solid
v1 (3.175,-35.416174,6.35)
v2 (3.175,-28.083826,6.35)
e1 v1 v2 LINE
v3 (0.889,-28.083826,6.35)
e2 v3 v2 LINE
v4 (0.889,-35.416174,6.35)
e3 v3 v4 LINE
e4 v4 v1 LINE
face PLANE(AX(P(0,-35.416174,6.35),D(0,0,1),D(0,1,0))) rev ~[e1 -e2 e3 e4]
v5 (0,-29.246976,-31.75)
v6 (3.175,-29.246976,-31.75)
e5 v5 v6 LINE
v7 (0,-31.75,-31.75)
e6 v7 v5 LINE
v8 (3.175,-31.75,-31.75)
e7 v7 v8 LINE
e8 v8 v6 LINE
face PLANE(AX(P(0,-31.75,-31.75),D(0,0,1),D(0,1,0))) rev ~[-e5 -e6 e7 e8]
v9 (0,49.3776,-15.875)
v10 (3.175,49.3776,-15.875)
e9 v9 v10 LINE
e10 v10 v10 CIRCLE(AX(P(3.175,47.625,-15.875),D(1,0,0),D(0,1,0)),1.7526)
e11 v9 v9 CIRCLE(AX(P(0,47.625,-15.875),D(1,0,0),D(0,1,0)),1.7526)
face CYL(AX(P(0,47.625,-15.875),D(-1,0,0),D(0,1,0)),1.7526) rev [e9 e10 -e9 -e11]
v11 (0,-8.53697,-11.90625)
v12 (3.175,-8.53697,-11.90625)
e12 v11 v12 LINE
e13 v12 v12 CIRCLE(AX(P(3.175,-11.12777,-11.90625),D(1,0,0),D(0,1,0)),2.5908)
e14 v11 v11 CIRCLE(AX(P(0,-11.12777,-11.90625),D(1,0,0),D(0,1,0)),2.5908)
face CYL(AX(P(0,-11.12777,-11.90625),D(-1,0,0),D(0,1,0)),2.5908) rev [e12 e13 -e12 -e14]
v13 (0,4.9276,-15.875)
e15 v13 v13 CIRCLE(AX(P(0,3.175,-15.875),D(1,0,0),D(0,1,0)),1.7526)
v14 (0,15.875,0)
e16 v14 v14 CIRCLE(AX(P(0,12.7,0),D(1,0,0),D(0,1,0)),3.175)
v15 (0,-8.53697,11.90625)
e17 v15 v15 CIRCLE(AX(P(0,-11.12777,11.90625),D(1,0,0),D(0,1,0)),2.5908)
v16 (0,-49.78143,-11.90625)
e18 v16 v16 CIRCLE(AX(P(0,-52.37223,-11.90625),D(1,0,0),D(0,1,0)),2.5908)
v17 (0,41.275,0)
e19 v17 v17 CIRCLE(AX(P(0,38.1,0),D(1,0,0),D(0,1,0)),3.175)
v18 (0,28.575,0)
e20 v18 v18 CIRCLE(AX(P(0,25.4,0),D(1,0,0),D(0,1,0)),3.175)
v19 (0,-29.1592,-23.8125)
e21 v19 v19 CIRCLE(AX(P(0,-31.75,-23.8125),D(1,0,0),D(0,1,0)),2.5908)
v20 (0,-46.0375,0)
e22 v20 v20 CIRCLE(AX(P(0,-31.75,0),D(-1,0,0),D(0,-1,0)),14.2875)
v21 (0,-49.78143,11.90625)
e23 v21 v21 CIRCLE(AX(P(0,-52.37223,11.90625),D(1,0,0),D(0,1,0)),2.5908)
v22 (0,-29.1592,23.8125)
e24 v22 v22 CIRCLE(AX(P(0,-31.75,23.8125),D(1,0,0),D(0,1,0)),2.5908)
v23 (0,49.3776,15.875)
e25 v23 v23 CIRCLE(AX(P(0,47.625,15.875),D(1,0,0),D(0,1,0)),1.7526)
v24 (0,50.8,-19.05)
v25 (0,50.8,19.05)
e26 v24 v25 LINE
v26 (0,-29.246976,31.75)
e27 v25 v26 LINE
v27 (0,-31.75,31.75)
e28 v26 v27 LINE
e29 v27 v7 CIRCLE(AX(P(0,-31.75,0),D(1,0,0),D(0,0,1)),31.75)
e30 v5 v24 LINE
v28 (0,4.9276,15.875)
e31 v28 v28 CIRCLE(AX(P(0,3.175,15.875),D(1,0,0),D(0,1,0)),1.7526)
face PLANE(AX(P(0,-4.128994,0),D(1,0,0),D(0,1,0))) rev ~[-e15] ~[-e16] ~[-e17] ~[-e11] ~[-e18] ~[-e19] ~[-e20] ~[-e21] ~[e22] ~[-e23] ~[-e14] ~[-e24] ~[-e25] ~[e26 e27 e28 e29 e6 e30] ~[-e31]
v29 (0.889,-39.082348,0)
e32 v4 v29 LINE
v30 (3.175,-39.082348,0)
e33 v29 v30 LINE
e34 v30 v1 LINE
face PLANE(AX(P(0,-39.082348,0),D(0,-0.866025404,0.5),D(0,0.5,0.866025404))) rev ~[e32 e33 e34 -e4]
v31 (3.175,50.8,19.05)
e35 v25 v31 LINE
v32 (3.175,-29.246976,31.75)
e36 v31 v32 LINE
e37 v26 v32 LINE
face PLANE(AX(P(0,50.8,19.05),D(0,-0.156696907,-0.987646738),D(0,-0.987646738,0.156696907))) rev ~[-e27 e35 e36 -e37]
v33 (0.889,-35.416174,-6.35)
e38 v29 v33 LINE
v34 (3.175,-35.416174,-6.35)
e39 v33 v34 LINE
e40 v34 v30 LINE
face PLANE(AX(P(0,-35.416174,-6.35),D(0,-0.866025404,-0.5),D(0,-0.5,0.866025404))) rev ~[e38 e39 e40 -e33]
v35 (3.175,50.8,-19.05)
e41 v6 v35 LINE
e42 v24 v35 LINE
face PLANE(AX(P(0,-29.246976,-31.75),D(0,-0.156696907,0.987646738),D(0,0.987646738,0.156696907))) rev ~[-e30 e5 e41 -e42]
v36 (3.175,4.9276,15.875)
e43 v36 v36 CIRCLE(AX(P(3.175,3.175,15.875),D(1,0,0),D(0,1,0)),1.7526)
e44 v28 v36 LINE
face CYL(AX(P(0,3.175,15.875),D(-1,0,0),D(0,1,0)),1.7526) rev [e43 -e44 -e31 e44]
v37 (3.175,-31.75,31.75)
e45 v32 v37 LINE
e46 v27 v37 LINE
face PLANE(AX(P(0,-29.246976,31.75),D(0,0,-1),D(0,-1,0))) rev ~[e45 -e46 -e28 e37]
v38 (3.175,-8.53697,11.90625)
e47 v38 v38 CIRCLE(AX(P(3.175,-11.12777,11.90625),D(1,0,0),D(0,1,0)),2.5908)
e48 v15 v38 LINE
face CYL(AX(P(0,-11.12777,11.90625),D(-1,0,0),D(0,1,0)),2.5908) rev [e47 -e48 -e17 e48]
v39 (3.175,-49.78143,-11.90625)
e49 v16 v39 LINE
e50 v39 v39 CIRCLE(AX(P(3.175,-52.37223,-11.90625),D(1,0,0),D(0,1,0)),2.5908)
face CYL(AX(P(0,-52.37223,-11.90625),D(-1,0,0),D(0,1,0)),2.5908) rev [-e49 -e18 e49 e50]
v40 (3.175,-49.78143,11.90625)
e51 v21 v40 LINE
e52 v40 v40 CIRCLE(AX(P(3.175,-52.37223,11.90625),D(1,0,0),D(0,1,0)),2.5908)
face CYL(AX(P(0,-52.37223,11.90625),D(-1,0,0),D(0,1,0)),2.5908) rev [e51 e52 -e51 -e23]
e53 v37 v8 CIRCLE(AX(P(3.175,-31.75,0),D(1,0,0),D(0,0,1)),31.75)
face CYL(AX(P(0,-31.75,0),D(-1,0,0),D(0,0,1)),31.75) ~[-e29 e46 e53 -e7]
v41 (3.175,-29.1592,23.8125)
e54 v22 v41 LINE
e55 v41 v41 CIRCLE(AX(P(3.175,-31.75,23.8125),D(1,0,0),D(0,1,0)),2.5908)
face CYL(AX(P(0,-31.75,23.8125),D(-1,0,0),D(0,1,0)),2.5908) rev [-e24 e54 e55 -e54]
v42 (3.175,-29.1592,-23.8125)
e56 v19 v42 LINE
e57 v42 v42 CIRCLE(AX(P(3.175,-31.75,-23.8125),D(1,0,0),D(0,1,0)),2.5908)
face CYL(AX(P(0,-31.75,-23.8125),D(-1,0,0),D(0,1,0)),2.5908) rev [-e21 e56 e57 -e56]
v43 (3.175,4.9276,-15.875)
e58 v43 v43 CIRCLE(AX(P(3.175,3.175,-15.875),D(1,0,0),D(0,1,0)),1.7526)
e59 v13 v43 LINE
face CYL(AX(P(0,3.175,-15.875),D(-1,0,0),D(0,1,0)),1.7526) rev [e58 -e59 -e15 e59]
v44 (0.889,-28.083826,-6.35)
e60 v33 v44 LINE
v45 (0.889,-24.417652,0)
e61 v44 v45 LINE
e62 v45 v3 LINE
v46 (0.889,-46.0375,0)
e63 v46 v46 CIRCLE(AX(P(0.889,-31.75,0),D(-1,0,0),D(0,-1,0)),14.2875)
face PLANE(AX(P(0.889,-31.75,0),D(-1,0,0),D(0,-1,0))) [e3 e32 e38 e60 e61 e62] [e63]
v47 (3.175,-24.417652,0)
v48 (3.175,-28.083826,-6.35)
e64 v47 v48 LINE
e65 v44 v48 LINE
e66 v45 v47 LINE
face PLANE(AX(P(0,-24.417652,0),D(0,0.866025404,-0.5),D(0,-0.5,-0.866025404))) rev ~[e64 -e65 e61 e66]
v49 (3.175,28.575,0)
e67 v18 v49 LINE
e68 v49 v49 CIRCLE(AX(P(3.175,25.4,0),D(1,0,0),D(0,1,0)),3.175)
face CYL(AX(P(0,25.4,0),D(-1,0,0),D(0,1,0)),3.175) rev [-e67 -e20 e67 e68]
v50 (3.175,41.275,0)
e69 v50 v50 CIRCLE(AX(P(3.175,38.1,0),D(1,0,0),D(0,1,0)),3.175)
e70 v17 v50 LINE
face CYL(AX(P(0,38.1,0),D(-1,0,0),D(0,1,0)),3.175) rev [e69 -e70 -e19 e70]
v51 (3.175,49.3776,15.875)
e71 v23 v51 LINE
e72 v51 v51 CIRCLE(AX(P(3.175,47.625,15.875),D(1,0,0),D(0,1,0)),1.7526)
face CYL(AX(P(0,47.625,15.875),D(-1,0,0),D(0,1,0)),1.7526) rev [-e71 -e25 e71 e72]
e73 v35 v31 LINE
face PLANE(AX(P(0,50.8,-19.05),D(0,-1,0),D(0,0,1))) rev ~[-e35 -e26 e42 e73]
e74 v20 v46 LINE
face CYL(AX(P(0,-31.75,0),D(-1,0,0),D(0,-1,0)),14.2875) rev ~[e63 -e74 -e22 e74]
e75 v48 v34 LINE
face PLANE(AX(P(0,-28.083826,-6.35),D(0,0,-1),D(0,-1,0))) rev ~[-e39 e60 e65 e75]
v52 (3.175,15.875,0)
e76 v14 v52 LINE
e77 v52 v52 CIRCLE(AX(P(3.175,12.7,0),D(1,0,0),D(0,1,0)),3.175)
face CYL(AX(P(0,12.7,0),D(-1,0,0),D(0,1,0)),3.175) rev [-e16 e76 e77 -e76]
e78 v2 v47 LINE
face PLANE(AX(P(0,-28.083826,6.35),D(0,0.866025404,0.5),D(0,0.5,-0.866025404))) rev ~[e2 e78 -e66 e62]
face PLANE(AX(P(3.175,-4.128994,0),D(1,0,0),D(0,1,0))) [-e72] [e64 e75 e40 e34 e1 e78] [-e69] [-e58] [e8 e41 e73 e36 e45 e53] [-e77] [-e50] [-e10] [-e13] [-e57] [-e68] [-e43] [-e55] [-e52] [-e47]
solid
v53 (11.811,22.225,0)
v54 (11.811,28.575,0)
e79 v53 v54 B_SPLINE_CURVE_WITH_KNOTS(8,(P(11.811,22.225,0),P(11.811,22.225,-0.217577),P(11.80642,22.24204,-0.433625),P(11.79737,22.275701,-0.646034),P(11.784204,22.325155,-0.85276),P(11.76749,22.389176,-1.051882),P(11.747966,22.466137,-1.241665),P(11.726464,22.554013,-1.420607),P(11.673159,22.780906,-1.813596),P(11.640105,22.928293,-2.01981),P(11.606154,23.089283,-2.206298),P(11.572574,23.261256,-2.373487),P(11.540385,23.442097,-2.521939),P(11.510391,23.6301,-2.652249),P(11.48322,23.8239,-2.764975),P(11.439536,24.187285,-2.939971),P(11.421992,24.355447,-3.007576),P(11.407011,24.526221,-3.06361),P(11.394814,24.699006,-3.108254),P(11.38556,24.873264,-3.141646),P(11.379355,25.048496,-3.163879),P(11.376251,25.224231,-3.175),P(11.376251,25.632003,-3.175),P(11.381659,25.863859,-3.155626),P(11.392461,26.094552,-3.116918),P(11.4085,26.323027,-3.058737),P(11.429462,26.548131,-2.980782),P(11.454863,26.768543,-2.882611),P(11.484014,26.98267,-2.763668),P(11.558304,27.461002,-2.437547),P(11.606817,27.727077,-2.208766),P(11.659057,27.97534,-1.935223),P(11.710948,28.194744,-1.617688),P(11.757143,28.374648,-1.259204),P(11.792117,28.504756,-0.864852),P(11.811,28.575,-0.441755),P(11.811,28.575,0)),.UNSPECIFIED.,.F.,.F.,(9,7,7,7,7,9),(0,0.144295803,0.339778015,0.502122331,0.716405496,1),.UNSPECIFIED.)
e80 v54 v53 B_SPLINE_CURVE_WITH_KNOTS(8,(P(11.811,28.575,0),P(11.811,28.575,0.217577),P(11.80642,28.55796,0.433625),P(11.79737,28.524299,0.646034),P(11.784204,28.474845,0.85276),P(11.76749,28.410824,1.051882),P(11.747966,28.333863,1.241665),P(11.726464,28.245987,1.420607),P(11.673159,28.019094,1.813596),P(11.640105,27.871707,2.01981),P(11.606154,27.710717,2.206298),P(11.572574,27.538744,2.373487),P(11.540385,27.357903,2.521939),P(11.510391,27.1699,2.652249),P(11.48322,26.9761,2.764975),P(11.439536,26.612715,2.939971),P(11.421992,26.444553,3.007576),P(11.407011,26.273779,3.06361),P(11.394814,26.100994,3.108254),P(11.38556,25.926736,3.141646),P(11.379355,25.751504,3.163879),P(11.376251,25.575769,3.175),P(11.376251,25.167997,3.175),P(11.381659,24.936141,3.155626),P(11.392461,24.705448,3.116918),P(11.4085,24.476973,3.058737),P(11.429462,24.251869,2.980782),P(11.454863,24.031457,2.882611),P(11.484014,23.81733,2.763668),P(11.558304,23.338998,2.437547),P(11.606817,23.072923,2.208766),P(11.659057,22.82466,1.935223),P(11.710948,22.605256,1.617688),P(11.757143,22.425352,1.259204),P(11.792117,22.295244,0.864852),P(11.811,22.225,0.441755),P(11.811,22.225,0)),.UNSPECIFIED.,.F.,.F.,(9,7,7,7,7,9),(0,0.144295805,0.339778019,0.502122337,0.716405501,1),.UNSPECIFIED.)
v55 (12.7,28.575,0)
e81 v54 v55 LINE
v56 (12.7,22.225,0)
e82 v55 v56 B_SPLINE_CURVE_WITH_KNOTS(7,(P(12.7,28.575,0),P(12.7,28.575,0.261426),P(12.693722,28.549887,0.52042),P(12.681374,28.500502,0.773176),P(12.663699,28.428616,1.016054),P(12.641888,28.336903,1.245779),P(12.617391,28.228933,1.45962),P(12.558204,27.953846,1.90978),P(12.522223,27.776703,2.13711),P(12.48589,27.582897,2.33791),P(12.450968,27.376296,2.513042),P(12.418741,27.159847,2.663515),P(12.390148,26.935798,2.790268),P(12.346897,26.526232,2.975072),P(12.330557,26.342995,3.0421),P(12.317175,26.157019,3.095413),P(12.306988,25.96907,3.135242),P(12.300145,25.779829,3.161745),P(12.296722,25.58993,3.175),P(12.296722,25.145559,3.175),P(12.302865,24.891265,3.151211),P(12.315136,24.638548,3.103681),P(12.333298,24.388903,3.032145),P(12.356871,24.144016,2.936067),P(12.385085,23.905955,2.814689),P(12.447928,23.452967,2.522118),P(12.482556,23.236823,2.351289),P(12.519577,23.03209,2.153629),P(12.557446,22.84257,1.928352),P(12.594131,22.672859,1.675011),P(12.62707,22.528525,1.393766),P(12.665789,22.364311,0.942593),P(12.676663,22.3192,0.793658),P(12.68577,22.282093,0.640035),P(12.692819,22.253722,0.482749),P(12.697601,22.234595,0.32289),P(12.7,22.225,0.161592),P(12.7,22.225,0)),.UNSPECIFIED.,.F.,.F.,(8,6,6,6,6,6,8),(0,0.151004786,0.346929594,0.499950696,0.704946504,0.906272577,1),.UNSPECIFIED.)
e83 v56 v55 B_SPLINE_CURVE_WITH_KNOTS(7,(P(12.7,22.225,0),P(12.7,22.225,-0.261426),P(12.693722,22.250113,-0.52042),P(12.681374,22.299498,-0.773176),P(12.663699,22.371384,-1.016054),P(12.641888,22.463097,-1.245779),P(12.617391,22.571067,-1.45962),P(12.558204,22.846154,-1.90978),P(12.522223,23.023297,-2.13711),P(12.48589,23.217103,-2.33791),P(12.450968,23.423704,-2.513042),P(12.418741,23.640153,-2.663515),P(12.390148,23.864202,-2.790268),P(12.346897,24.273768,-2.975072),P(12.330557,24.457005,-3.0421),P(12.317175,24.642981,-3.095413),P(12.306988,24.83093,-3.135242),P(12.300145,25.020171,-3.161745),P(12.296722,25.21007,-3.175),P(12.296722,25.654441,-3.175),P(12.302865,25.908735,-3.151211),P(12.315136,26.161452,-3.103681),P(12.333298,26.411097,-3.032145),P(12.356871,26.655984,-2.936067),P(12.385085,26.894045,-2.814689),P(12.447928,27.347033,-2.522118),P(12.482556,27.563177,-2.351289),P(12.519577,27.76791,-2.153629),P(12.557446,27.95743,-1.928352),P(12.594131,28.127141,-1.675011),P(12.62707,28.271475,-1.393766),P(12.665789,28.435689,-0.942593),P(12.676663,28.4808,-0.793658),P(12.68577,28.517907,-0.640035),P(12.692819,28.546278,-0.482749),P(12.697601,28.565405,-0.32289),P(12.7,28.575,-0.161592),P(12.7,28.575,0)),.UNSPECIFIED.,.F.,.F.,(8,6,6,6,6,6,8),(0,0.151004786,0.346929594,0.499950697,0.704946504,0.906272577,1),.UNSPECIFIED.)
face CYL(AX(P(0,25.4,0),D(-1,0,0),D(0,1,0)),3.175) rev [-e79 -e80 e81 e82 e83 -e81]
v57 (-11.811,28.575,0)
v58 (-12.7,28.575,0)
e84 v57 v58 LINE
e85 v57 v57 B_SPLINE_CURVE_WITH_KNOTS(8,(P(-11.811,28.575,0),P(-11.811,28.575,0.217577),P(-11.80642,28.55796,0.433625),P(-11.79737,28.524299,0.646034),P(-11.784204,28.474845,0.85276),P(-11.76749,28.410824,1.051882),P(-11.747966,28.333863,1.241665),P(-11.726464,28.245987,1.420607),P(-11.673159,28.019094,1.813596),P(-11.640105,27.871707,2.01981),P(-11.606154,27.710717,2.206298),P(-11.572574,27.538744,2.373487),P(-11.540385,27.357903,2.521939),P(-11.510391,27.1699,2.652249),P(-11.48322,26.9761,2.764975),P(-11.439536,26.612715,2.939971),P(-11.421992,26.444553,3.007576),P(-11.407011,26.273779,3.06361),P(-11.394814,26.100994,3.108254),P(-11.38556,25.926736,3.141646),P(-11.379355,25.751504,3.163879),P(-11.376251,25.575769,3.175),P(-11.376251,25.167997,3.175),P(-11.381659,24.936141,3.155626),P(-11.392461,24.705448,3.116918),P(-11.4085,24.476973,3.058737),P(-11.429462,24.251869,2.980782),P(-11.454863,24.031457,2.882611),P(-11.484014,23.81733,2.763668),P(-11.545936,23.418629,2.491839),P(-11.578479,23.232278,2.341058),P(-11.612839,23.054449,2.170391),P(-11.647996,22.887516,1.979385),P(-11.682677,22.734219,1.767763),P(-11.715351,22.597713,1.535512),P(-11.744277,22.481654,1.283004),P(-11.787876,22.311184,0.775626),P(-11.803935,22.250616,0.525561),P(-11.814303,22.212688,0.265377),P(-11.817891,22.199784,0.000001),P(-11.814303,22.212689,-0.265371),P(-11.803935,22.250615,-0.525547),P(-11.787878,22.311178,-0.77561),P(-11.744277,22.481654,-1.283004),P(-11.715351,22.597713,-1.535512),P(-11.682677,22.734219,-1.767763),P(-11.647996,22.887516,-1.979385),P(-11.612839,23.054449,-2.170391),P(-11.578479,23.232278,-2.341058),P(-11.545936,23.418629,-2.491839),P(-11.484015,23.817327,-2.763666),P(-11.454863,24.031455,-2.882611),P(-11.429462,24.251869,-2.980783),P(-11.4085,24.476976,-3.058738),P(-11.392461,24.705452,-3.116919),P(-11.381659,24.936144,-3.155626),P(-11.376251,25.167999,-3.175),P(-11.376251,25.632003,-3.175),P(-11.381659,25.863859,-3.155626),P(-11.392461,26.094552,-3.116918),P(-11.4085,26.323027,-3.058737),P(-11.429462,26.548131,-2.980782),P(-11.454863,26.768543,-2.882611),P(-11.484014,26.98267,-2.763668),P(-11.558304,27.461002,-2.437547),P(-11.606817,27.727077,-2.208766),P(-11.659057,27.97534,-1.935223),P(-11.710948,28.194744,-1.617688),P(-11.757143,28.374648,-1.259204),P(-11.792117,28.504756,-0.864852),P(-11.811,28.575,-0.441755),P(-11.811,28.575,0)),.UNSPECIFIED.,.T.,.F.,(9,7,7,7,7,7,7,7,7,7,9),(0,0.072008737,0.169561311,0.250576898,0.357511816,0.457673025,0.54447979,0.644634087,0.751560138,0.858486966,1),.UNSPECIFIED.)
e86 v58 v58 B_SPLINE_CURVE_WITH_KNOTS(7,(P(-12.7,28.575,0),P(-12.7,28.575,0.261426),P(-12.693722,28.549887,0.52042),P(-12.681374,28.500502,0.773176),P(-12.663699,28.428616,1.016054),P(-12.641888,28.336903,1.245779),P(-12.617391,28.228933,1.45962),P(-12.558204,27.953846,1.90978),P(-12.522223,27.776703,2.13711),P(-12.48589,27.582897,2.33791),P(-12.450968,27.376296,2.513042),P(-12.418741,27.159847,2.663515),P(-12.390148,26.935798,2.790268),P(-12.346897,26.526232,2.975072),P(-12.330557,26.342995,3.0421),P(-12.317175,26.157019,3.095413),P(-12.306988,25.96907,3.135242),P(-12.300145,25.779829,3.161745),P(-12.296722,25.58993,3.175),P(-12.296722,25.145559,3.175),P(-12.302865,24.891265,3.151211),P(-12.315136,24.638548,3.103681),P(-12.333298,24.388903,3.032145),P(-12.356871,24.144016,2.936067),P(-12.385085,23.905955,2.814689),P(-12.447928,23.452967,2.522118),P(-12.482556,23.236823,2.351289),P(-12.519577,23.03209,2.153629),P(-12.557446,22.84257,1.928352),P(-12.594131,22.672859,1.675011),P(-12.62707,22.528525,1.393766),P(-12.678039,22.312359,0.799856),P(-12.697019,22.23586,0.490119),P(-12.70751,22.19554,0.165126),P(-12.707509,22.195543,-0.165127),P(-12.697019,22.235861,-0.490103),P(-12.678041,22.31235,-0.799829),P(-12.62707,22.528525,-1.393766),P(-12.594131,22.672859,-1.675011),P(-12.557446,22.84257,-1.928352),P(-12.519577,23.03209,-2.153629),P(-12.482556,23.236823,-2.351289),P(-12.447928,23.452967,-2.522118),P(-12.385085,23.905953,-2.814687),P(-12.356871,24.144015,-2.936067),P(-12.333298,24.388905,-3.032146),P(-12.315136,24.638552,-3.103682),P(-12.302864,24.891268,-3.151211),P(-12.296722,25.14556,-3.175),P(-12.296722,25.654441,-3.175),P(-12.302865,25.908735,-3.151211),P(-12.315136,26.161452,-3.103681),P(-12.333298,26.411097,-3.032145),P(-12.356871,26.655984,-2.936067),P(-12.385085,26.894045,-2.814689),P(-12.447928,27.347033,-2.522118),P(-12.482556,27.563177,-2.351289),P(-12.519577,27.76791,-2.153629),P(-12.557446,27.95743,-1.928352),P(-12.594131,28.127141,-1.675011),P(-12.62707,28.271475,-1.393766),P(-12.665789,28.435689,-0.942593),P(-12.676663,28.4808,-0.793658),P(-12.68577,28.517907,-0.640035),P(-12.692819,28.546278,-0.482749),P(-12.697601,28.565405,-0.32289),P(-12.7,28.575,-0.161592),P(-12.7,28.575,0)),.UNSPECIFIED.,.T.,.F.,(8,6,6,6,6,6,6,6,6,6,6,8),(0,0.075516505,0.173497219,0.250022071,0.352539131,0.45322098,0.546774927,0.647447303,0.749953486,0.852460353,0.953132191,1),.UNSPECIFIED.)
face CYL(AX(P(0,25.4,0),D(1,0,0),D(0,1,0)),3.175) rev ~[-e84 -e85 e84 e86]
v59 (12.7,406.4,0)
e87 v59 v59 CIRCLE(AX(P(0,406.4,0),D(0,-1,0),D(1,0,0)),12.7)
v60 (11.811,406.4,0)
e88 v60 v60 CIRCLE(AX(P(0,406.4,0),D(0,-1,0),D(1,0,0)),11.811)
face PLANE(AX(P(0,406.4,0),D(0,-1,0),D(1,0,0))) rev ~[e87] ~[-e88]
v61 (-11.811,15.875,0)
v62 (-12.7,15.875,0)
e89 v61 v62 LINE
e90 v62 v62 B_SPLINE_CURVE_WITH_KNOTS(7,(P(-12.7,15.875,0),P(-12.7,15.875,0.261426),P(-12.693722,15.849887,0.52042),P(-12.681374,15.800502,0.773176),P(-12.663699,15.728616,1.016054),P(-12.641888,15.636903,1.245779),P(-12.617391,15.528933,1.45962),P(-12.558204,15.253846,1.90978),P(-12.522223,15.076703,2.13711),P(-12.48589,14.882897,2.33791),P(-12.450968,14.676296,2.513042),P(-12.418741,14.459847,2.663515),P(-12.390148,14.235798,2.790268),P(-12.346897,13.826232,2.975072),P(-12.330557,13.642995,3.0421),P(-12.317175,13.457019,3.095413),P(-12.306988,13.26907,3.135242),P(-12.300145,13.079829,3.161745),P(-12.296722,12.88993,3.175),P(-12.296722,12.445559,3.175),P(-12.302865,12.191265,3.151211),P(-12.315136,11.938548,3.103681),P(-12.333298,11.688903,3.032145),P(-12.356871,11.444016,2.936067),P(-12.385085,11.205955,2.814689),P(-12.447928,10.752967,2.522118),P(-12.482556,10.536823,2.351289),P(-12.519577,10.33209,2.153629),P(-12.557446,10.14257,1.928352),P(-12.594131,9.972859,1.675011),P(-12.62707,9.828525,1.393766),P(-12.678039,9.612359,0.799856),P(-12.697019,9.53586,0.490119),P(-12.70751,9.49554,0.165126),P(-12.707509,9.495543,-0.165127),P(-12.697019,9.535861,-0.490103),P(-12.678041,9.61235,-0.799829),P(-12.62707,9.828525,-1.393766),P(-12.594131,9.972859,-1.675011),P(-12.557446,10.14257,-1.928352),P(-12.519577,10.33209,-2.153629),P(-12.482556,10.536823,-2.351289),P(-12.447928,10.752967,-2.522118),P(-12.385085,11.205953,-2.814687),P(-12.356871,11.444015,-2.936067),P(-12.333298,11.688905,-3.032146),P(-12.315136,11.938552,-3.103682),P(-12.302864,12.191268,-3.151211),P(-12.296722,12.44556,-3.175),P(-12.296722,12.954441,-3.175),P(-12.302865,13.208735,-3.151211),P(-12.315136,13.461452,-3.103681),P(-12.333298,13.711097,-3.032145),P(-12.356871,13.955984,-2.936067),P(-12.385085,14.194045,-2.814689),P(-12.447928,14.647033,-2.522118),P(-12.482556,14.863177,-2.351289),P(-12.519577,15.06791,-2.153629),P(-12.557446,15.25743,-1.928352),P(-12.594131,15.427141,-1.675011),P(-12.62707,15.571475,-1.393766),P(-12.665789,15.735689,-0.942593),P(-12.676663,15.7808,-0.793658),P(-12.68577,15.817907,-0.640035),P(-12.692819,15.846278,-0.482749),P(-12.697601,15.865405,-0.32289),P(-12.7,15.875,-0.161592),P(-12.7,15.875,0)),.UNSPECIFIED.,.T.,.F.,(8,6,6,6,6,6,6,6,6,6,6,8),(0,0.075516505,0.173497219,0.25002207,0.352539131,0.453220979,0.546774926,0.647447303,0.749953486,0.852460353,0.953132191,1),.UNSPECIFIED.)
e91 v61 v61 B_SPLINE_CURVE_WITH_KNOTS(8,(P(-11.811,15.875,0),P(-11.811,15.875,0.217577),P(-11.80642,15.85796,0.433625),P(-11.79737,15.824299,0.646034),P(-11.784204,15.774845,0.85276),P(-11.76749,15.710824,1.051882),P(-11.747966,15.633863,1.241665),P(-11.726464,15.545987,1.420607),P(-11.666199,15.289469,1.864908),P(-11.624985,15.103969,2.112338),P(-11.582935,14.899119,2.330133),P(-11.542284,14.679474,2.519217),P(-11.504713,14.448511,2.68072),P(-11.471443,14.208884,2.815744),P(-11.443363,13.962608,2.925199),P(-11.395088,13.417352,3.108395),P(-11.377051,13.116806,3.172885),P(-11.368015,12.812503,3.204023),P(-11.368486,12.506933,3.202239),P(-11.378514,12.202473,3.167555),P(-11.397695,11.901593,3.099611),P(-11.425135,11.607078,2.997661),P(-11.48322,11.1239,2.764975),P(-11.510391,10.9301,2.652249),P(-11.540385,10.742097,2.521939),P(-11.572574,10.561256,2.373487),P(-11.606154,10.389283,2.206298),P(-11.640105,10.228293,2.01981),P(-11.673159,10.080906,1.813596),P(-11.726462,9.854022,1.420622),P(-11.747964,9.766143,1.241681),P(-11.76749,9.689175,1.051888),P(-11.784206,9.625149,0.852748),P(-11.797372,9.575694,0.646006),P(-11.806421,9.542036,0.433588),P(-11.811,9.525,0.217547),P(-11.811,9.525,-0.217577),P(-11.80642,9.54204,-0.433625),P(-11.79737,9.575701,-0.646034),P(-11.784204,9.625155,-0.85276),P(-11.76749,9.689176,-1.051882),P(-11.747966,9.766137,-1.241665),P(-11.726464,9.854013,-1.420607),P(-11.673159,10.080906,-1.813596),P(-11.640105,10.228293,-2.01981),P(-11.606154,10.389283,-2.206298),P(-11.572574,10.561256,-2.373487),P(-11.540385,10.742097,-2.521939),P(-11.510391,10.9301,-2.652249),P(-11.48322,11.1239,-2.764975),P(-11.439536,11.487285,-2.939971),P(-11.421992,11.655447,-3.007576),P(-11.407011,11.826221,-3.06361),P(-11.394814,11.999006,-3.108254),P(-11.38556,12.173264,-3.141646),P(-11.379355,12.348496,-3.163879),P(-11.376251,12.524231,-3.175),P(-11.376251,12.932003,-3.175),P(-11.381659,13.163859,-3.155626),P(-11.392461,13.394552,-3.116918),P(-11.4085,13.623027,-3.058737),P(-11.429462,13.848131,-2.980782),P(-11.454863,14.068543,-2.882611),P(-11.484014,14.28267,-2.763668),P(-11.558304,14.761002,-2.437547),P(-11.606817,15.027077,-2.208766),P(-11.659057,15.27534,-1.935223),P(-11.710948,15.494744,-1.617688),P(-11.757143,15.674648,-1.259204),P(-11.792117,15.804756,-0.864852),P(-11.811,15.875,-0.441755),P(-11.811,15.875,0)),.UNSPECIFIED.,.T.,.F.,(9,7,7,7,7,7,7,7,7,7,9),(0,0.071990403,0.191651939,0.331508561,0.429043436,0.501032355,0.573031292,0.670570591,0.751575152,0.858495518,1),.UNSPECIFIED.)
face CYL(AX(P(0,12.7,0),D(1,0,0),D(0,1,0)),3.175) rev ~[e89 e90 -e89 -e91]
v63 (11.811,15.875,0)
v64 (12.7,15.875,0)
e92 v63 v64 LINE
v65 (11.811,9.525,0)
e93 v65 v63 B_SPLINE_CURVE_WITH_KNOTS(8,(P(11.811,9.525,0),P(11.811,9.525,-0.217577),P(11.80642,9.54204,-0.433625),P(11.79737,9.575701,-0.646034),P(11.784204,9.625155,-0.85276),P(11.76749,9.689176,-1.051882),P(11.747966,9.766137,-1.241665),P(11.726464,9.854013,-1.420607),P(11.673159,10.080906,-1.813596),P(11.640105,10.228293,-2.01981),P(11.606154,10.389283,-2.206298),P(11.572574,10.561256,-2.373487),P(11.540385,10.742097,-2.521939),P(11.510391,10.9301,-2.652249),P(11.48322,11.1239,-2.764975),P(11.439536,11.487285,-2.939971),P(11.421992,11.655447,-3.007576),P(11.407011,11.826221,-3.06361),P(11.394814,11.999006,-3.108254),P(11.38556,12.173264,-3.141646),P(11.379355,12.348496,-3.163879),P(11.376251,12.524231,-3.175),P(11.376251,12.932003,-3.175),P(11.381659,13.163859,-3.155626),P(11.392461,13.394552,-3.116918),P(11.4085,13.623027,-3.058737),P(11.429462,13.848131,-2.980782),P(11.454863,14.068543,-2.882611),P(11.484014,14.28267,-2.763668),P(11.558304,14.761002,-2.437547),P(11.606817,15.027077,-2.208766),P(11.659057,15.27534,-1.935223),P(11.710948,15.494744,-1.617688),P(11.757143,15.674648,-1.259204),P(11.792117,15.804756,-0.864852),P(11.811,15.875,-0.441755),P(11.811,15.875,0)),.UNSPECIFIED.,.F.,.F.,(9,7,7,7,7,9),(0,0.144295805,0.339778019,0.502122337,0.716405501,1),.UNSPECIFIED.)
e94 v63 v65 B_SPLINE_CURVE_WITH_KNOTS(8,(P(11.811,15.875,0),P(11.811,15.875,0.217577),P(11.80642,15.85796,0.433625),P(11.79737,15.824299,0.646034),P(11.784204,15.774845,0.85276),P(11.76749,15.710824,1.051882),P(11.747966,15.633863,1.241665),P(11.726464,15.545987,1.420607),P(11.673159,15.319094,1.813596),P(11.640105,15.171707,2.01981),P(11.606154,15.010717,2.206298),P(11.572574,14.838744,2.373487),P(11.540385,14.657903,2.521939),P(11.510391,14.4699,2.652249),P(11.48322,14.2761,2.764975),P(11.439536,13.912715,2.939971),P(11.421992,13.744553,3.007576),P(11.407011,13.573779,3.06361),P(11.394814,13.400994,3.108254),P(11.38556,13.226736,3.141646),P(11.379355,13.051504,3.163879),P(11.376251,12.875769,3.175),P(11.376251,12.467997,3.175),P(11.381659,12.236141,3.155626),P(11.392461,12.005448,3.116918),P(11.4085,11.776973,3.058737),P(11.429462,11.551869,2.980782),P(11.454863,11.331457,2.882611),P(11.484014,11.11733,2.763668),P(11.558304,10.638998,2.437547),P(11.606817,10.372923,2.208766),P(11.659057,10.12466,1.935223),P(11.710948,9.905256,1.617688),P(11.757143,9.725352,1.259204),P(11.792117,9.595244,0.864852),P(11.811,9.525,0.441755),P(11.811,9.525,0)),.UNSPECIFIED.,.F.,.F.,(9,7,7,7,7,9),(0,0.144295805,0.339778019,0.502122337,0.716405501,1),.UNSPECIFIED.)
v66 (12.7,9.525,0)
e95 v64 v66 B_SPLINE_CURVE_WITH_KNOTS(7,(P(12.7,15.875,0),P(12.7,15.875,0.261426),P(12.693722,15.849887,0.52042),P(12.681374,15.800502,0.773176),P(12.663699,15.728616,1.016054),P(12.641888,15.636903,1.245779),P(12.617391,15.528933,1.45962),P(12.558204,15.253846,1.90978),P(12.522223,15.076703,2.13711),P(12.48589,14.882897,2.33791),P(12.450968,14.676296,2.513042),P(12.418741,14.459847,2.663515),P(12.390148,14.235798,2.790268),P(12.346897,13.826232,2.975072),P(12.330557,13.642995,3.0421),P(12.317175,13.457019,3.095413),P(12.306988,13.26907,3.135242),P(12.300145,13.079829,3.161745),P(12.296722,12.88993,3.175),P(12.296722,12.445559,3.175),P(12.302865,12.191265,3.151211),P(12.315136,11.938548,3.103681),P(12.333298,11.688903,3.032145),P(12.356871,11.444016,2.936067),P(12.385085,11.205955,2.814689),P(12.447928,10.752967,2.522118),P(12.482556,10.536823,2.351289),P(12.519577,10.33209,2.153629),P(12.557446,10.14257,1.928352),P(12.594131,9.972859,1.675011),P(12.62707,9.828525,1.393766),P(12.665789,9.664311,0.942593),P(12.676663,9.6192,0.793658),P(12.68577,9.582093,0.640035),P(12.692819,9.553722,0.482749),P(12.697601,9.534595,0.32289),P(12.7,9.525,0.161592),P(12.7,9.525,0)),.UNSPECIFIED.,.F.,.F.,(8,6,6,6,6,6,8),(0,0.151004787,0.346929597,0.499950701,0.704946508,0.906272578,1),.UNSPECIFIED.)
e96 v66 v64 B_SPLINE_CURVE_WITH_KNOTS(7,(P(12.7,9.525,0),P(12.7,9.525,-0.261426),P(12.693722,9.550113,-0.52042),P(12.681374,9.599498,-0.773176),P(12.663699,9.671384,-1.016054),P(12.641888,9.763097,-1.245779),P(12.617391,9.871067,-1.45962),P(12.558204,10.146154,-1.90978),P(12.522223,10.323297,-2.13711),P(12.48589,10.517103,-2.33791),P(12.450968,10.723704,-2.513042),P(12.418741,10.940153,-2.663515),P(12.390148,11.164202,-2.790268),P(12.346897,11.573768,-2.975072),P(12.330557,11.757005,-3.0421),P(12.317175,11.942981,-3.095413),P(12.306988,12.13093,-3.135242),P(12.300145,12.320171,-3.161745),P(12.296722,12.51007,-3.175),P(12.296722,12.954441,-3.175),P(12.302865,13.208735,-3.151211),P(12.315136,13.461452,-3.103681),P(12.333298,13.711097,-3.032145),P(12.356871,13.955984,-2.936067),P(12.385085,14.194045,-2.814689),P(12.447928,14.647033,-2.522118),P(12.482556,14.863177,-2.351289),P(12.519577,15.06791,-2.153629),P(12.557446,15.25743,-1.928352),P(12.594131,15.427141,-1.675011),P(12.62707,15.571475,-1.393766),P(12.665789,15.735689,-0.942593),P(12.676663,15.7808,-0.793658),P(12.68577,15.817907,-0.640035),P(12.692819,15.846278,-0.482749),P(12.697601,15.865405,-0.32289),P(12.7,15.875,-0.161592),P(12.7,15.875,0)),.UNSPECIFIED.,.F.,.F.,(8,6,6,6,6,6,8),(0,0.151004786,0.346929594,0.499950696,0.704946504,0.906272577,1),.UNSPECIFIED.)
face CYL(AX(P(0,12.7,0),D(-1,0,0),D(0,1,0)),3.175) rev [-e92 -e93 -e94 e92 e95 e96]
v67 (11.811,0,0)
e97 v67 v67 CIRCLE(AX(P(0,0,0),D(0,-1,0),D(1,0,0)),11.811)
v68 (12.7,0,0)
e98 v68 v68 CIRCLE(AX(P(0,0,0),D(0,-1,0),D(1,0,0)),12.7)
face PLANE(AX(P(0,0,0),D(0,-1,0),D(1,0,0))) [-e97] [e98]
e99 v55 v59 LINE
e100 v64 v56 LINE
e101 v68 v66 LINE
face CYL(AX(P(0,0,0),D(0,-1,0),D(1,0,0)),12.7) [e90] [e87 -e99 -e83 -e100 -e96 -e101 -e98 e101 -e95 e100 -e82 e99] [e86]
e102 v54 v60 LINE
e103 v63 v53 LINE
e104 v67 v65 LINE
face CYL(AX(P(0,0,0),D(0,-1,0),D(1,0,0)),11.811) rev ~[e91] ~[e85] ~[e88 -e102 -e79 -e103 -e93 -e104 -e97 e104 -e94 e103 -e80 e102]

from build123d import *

# Parameters (mm, degrees)
F0_R          = 12.7
F0_R_2        = 11.811
F1_DEPTH      = 406.4
F2_R          = 3.175
F3_DEPTH      = 12.701
F3_DEPTH_BACK = 25.4
F4_R          = 2.5908
F4_R_2        = 1.7526
F4_R_3        = 3.175
F5_DEPTH      = 3.175
F6_R          = 14.2875
F7_DEPTH      = 0.889


with BuildPart() as f1:
    # F0 (on Front) → F1 (new body)
    with BuildSketch(Plane.XZ):
        Circle(F0_R)
        Circle(F0_R_2, mode=Mode.SUBTRACT)
    extrude(amount=-F1_DEPTH)

    # F2 (on Right) → F3 (cut, two sides)
    with BuildSketch(Plane.YZ) as f3_sk:
        with Locations((12.7, 0)):
            Circle(F2_R)
        with Locations((25.4, 0)):
            Circle(F2_R)
    extrude(amount=-F3_DEPTH, mode=Mode.SUBTRACT)
    extrude(f3_sk.sketch, amount=F3_DEPTH_BACK, mode=Mode.SUBTRACT)


with BuildPart() as f5:
    # F4 (on Right) → F5 (new body)
    with BuildSketch(Plane.YZ):
        with BuildLine():
            Line((-29.246976355, 31.75), (-31.75, 31.75))
            ThreePointArc((-31.75, 31.75), (-63.5, 0), (-31.75, -31.75))
            Line((-31.75, -31.75), (-29.246976355, -31.75))
            Line((-29.246976355, -31.75), (50.8, -19.05))
            Line((50.8, -19.05), (50.8, 19.05))
            Line((50.8, 19.05), (-29.246976355, 31.75))
        make_face()
        with Locations((-31.75, -23.8125)):
            Circle(F4_R, mode=Mode.SUBTRACT)
        with Locations((-52.3722299276, -11.90625)):
            Circle(F4_R, mode=Mode.SUBTRACT)
        with Locations((-11.1277700724, -11.90625)):
            Circle(F4_R, mode=Mode.SUBTRACT)
        with Locations((3.175, -15.875)):
            Circle(F4_R_2, mode=Mode.SUBTRACT)
        with Locations((47.625, -15.875)):
            Circle(F4_R_2, mode=Mode.SUBTRACT)
        with Locations((-52.3722299276, 11.90625)):
            Circle(F4_R, mode=Mode.SUBTRACT)
        Polygon((-24.4176515813, 0), (-28.0838257906, -6.35), (-35.4161742094, -6.35), (-39.0823484187, 0), (-35.4161742094, 6.35), (-28.0838257906, 6.35), align=None, mode=Mode.SUBTRACT)
        with Locations((-11.1277700724, 11.90625)):
            Circle(F4_R, mode=Mode.SUBTRACT)
        with Locations((-31.75, 23.8125)):
            Circle(F4_R, mode=Mode.SUBTRACT)
        with Locations((12.7, 0)):
            Circle(F4_R_3, mode=Mode.SUBTRACT)
        with Locations((25.4, 0)):
            Circle(F4_R_3, mode=Mode.SUBTRACT)
        with Locations((38.1, 0)):
            Circle(F4_R_3, mode=Mode.SUBTRACT)
        with Locations((3.175, 15.875)):
            Circle(F4_R_2, mode=Mode.SUBTRACT)
        with Locations((47.625, 15.875)):
            Circle(F4_R_2, mode=Mode.SUBTRACT)
    extrude(amount=F5_DEPTH)

    # F6 (on face) → F7 (cut)
    with BuildSketch(Plane(origin=(0, 0, 0), x_dir=(0, -1, 0), z_dir=(-1, 0, 0))):
        with Locations((31.75, 0)):
            Circle(F6_R)
    extrude(amount=-F7_DEPTH, mode=Mode.SUBTRACT)


solid = Compound([f1.part, f5.part])
